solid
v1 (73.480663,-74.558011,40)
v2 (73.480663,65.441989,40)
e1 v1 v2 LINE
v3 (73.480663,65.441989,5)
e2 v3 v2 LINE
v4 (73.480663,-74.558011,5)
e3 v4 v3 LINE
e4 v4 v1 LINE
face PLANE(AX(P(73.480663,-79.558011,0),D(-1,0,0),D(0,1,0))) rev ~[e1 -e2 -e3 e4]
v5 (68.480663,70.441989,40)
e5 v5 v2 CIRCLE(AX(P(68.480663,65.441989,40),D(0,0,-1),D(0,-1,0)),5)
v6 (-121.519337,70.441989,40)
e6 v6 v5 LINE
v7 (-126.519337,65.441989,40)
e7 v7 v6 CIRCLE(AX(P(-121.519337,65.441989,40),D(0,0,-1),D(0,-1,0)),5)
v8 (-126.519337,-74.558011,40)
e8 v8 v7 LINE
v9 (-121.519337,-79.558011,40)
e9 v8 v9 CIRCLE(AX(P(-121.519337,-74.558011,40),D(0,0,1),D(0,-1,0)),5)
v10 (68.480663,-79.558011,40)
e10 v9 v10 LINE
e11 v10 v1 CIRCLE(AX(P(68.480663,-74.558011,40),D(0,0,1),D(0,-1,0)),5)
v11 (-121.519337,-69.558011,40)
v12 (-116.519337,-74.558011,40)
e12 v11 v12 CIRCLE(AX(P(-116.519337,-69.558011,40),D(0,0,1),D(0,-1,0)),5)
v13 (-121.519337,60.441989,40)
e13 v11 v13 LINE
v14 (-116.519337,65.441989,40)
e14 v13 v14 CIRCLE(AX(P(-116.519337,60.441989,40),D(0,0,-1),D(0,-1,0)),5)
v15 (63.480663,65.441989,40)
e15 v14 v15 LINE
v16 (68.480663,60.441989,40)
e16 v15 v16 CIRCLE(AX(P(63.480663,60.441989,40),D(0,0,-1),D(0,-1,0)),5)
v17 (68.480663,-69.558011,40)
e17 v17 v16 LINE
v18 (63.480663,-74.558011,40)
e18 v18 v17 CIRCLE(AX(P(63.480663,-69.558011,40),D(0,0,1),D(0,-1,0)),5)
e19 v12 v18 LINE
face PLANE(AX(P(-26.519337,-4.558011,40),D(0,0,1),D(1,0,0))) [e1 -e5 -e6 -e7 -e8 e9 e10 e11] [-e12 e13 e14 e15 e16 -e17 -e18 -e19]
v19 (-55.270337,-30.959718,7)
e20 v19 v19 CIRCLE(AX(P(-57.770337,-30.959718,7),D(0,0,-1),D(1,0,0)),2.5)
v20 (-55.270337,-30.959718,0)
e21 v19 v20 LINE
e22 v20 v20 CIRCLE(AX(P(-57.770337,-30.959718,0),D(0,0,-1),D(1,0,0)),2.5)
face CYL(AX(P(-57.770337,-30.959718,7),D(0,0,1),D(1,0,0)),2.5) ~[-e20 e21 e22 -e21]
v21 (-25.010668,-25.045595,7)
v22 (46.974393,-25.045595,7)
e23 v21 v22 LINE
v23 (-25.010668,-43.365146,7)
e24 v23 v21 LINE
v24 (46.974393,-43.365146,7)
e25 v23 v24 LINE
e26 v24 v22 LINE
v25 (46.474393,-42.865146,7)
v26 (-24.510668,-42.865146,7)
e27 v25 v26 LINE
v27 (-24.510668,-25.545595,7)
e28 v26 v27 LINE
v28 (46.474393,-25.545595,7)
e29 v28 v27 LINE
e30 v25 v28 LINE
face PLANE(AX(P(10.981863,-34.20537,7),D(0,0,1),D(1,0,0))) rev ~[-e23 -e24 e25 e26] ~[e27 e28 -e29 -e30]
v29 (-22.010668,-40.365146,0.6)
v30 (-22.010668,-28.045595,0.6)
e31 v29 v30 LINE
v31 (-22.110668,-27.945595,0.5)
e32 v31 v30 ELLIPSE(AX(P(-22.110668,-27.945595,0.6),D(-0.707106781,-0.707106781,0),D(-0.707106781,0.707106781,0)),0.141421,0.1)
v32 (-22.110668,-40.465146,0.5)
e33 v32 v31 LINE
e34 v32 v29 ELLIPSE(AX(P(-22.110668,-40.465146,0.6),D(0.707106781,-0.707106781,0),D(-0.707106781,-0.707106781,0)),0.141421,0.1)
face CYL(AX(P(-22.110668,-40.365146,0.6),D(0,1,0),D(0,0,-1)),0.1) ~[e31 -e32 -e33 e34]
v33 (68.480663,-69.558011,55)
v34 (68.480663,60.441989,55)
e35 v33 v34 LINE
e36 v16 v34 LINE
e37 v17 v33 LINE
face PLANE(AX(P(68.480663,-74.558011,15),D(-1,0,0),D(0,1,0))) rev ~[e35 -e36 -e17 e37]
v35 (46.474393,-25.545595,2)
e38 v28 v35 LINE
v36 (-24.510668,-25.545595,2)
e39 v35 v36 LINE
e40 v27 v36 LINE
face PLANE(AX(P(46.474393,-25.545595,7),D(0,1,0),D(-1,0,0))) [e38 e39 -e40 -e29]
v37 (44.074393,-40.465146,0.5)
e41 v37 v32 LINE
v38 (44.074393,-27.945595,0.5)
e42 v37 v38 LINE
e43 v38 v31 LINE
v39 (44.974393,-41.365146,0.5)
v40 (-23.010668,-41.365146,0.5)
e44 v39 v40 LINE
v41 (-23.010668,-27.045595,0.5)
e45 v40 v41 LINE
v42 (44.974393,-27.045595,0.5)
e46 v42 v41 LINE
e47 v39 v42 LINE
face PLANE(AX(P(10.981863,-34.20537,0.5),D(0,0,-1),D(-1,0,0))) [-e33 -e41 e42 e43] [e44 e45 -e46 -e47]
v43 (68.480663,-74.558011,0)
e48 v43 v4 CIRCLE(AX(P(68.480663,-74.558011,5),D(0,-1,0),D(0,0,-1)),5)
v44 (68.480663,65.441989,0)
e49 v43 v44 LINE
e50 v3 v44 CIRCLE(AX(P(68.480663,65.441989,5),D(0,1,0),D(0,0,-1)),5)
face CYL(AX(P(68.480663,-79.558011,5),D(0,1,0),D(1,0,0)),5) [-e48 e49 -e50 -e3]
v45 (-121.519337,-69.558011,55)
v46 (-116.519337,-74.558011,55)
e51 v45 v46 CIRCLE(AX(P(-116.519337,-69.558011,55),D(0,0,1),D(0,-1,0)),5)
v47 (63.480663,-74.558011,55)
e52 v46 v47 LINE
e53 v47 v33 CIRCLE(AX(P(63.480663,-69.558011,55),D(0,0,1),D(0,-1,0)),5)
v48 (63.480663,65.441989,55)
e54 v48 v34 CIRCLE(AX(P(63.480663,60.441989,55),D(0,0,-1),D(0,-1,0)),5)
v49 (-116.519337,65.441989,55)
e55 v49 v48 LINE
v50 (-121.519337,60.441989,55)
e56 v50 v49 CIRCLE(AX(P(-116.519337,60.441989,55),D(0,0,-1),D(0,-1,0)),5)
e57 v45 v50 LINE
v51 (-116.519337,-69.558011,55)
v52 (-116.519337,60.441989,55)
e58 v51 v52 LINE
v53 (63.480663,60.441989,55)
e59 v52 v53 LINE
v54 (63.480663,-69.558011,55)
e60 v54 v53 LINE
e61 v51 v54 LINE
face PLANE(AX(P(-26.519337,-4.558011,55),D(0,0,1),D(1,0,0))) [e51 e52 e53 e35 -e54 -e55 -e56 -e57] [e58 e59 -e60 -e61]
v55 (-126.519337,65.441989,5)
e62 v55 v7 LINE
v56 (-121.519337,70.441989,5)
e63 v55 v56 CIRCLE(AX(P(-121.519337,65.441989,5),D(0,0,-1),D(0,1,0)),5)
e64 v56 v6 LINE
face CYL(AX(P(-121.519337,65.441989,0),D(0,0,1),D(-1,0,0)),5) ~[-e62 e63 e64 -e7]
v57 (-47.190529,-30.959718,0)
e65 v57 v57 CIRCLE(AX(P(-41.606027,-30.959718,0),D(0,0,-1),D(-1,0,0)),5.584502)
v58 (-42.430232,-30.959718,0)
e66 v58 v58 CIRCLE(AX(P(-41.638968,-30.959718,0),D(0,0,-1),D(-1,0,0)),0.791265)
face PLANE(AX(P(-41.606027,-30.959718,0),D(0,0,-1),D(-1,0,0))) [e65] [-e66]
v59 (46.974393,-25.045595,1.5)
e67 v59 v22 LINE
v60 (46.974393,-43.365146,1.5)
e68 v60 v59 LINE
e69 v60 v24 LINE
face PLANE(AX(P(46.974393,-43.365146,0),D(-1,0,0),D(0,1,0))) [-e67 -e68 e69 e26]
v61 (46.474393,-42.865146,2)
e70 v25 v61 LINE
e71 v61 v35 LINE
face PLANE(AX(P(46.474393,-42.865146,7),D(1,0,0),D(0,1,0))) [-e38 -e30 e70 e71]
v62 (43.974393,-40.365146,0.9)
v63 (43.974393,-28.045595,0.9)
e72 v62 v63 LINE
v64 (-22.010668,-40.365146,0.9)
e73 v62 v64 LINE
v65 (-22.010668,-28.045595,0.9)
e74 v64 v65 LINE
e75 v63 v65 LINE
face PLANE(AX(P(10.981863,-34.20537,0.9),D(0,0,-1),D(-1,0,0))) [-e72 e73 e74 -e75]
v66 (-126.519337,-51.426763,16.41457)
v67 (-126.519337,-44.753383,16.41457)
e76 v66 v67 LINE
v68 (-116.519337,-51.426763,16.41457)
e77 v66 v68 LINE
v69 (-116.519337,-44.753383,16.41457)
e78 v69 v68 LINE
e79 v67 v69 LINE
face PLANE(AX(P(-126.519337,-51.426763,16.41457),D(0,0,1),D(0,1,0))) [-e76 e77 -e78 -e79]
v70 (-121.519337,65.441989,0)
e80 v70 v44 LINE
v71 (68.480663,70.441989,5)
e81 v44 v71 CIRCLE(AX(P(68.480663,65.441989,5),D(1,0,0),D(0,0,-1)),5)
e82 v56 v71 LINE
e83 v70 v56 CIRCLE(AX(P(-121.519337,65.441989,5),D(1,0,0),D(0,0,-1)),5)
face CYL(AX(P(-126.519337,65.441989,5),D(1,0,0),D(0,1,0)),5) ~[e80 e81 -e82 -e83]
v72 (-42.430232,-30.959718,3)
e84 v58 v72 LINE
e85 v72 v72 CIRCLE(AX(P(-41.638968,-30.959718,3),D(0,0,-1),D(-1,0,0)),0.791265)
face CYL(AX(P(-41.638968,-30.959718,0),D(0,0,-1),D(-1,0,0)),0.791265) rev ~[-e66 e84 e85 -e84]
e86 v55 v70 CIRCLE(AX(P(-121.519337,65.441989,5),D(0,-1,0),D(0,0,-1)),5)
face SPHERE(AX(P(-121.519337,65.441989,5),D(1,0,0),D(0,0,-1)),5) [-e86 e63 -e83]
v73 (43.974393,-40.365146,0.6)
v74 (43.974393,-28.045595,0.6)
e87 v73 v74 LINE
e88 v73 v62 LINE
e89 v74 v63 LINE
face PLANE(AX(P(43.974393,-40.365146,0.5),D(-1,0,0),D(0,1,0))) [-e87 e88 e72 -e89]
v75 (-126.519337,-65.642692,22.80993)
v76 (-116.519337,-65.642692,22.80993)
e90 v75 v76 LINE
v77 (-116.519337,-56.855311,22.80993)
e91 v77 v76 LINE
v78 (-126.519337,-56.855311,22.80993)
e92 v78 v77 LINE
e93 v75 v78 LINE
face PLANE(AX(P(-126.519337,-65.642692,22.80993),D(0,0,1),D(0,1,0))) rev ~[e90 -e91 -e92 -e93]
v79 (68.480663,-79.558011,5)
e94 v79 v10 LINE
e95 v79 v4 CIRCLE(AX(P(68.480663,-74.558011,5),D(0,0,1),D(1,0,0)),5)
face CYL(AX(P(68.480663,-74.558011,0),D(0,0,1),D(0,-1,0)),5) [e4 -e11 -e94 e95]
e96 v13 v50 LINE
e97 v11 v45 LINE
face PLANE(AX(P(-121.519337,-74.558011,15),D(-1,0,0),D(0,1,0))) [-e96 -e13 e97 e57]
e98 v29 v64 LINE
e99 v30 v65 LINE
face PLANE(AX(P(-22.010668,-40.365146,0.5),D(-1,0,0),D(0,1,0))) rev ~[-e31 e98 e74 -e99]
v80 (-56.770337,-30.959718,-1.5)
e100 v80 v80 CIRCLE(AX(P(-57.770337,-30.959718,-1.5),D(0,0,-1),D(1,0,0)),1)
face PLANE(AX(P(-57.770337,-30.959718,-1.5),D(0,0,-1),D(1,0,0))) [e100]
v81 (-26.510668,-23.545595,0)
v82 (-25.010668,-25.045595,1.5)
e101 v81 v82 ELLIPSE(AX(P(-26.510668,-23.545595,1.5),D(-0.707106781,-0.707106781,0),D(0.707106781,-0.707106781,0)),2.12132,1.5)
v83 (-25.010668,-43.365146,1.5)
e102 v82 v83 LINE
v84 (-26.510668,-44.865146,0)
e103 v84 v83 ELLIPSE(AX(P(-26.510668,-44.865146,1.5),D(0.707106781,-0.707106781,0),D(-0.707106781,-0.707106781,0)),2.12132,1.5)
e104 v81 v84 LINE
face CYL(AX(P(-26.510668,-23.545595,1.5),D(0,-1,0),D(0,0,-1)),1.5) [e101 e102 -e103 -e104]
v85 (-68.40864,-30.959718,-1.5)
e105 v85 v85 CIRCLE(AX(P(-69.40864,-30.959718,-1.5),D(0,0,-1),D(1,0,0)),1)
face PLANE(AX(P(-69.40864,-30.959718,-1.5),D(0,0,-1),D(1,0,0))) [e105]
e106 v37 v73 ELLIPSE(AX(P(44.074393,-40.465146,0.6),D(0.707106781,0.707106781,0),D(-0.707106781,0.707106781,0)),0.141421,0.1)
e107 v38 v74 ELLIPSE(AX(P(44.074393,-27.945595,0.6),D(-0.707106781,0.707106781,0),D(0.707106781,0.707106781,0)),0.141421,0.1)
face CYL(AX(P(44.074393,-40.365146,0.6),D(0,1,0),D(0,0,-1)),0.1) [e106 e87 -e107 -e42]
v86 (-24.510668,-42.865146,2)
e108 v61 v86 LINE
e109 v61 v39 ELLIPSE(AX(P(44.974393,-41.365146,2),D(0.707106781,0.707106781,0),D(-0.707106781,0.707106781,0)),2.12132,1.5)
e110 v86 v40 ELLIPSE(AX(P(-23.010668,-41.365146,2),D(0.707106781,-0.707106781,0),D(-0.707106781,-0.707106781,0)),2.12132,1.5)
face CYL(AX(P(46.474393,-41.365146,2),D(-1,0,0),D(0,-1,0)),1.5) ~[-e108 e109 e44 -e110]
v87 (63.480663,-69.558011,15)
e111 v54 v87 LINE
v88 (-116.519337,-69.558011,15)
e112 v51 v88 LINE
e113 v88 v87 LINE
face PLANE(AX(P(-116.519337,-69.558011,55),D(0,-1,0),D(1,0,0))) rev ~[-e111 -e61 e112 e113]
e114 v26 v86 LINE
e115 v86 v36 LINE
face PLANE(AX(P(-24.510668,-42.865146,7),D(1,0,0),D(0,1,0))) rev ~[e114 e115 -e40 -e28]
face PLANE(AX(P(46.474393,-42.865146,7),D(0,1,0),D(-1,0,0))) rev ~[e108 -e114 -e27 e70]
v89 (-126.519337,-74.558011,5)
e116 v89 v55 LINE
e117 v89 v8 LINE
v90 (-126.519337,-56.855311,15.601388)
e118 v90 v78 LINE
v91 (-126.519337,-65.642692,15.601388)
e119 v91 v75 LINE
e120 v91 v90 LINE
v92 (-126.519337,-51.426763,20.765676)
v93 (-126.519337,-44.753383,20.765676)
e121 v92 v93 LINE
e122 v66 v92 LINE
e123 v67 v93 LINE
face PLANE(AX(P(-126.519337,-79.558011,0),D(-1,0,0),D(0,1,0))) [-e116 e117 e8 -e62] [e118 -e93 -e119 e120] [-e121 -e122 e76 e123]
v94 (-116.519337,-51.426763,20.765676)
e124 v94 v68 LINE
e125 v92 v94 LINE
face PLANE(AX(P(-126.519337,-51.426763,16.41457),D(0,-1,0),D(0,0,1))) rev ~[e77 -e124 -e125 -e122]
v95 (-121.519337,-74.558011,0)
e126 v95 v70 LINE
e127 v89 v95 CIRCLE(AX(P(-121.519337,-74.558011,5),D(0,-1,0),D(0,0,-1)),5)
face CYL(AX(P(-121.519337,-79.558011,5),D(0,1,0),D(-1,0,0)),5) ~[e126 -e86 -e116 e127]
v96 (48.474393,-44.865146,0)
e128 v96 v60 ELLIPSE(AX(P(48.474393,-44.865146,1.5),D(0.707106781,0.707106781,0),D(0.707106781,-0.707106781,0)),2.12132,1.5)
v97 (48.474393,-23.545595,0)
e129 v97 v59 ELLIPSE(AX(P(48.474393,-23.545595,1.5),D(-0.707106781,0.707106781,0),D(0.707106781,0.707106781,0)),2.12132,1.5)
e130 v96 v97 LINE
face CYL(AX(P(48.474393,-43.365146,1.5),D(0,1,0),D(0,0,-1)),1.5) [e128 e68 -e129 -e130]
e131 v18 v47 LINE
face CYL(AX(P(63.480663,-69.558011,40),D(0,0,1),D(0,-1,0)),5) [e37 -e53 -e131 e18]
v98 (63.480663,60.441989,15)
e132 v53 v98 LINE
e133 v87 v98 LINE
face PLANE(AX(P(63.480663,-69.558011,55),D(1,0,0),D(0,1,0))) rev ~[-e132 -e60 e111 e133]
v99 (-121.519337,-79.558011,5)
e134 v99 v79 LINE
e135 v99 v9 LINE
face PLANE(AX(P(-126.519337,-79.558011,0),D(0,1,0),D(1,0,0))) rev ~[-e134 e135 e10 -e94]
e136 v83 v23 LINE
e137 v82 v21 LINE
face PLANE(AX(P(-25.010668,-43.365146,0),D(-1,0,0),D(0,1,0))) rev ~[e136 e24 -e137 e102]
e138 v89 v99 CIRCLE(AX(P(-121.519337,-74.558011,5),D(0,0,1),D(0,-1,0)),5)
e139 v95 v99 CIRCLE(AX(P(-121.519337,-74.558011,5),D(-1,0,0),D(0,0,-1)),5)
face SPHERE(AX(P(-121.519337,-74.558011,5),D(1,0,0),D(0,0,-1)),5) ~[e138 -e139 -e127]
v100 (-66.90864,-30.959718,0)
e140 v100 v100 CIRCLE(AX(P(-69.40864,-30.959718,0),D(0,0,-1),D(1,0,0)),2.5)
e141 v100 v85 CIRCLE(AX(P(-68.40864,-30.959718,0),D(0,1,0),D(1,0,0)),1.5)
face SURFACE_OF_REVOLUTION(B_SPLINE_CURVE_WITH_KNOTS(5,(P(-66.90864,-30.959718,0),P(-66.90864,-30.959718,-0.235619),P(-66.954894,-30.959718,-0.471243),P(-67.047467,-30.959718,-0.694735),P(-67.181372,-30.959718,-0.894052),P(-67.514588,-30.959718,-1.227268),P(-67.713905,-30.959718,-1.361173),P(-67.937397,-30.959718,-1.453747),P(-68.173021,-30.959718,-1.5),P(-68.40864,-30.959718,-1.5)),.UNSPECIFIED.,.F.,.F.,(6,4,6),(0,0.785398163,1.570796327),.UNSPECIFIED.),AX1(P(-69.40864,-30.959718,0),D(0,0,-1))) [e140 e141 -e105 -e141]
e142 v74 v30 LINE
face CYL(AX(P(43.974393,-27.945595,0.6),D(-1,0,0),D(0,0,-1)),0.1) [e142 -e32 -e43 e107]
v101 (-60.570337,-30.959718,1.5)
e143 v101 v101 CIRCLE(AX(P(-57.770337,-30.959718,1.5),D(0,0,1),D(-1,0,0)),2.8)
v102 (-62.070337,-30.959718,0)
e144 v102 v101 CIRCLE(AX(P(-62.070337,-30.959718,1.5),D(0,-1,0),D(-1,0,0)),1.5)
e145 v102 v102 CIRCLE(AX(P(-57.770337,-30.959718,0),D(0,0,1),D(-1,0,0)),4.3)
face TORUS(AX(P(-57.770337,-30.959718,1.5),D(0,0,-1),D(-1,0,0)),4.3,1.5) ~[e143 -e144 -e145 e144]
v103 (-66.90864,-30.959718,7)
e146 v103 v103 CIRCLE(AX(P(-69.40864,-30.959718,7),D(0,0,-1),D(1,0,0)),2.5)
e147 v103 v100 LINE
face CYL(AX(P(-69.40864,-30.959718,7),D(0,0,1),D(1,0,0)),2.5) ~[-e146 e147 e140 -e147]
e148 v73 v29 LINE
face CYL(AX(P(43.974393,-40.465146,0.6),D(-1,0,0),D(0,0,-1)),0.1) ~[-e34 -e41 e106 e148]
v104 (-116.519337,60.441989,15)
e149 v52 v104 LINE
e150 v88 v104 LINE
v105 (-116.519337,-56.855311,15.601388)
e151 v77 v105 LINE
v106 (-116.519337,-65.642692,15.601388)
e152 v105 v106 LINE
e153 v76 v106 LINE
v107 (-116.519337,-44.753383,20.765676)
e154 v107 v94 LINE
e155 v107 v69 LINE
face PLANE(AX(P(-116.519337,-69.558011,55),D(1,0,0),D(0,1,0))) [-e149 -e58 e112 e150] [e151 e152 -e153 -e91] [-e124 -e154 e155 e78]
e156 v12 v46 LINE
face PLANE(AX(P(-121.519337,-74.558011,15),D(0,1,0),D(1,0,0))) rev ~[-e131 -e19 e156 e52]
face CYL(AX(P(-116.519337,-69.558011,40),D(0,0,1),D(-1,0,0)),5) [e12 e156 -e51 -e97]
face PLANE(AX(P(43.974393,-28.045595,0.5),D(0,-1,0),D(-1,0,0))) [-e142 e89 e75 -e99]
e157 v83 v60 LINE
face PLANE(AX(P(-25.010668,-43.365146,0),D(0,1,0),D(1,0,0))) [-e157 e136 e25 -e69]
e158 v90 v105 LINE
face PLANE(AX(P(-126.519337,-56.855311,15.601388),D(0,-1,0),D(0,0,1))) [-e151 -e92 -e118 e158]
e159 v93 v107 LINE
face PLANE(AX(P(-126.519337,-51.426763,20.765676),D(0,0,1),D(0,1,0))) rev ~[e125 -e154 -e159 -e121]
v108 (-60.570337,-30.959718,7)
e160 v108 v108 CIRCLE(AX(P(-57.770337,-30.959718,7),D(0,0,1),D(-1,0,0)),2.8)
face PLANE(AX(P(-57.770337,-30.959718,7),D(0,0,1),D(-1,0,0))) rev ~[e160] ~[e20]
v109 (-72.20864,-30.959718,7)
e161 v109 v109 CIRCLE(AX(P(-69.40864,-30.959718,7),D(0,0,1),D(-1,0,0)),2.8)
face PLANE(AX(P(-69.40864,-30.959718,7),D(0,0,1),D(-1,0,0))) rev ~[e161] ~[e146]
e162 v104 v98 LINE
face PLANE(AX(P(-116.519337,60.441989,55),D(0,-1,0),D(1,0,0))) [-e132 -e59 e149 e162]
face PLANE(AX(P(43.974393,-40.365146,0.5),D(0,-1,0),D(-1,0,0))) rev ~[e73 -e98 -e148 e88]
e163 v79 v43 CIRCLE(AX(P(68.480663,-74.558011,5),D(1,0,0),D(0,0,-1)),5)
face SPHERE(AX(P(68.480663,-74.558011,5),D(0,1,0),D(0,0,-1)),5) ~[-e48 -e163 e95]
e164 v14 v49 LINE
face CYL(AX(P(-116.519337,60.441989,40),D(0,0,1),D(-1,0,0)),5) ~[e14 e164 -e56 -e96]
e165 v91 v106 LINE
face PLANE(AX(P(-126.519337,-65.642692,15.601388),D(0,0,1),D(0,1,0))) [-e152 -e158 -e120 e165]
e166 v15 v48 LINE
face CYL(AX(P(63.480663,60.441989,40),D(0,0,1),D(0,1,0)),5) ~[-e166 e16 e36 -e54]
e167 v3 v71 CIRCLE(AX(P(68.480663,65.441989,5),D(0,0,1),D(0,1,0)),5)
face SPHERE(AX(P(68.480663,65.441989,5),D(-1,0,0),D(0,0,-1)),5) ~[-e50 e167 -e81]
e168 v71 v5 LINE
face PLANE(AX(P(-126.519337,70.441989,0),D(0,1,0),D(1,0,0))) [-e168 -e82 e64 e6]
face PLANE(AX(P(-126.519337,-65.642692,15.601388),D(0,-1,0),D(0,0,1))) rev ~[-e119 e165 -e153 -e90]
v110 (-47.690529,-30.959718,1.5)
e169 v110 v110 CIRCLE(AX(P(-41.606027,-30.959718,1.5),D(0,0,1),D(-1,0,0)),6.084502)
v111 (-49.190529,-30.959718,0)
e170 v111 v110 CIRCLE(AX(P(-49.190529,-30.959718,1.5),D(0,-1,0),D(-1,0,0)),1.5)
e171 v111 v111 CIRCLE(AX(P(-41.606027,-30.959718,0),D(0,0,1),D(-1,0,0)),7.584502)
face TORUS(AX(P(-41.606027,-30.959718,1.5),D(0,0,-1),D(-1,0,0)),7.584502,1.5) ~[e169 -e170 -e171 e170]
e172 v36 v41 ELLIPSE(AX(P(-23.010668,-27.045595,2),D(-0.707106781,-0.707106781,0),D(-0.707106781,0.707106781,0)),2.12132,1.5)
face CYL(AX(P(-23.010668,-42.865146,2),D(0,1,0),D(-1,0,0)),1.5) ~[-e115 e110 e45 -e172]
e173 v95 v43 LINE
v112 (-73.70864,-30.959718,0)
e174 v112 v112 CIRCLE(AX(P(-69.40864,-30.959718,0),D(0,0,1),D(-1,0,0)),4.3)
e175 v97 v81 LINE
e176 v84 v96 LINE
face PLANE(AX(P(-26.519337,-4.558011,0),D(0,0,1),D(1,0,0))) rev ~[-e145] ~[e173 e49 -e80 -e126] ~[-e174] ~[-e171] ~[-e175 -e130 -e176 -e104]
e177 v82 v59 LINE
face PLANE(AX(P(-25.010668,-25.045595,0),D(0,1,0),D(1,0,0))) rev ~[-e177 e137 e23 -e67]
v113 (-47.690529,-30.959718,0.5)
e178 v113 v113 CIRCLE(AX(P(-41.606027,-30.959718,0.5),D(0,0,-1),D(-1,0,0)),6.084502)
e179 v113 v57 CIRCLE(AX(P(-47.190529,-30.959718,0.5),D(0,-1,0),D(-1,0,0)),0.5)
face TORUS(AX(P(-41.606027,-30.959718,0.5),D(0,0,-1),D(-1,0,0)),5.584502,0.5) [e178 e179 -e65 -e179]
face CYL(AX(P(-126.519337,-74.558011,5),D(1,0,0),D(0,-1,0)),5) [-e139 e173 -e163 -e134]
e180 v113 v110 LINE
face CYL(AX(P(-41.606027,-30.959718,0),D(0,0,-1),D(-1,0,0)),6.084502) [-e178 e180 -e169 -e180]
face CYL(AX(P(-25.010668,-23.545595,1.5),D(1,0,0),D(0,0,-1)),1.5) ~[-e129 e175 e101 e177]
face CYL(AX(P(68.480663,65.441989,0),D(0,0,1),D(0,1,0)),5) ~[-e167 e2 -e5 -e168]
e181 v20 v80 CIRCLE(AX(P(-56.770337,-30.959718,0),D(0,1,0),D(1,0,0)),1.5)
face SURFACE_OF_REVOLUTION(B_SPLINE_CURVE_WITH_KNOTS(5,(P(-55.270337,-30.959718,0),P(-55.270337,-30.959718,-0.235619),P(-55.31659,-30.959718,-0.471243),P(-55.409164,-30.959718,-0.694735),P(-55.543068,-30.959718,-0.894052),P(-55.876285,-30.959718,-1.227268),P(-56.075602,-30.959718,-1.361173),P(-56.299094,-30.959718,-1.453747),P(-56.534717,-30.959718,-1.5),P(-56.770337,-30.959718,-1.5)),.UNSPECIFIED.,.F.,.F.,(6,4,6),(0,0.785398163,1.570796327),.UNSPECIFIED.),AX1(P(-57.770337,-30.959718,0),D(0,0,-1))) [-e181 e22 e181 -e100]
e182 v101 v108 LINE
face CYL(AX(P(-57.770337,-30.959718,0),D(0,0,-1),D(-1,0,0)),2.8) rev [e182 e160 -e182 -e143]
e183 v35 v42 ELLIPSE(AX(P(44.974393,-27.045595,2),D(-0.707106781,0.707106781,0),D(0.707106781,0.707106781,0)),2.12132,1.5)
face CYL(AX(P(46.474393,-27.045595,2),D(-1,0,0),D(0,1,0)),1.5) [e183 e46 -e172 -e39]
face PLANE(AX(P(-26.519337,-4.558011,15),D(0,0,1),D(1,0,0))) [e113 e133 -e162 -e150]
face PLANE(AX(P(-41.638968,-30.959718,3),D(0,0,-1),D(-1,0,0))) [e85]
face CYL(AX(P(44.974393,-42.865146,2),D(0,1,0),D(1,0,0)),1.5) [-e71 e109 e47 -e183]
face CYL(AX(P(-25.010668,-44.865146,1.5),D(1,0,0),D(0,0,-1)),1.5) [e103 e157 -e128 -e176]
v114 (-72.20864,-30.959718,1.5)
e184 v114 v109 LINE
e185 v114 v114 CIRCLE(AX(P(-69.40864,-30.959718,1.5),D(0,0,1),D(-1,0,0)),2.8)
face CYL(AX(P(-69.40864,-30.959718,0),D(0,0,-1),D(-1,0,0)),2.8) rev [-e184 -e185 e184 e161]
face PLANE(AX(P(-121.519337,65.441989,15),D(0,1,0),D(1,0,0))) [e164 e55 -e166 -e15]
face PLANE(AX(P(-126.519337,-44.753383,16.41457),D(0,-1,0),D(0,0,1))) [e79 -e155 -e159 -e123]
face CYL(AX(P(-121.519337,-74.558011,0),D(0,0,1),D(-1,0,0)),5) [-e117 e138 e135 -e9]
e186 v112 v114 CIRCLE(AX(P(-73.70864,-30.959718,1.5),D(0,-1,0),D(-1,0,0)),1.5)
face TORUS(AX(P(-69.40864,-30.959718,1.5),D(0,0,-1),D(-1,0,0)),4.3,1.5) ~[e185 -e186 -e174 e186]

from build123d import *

# Parameters (mm, degrees)
SKETCH1_W           = 200
SKETCH1_H           = 150
BOSS_EXTRUDE1_DEPTH = 40
SKETCH2_R           = 6.084502499
SKETCH2_R_2         = 2.8
SKETCH2_W           = 71.985061483
SKETCH2_H           = 18.319551575
CUT_EXTRUDE1_DEPTH  = 7
SKETCH4_W           = 190
SKETCH4_H           = 140
CUT_EXTRUDE2_DEPTH  = 25
SKETCH5_W           = 190
SKETCH5_H           = 140
BOSS_EXTRUDE2_DEPTH = 40
SKETCH6_W           = 180
SKETCH6_H           = 130
CUT_EXTRUDE3_DEPTH  = 40
FILLET1_R           = 5
FILLET2_R           = 1.5
SKETCH7_R           = 6.084502499
BOSS_EXTRUDE3_DEPTH = 7
FILLET3_R           = 1.5
SKETCH9_R           = 0.791264775
CUT_EXTRUDE4_DEPTH  = 3
FILLET4_R           = 0.5
SKETCH10_R          = 2.5
BOSS_EXTRUDE4_DEPTH = 8.5
FILLET5_R           = 1.5
SKETCH13_W          = 70.985061483
SKETCH13_H          = 17.319551575
BOSS_EXTRUDE5_DEPTH = 6.5
FILLET6_R           = 1.5
SKETCH14_W          = 65.985061483
SKETCH14_H          = 12.319551575
CUT_EXTRUDE5_DEPTH  = 0.4
FILLET7_R           = 0.1
SKETCH15_W          = 7.208542358
SKETCH15_H          = 8.787380668
SKETCH15_W_2        = 4.351105625
SKETCH15_H_2        = 6.673379735
CUT_EXTRUDE6_DEPTH  = 50


with BuildPart() as part:
    # Sketch1 → Boss-Extrude1 (new body)
    with BuildSketch(Plane.XY):
        with Locations((-26.519337017, -4.55801105)):
            Rectangle(SKETCH1_W, SKETCH1_H)
    extrude(amount=BOSS_EXTRUDE1_DEPTH)

    # Sketch2 → Cut-Extrude1 (cut)
    with BuildSketch(Plane.XY):
        with Locations(Location((-41.606026549, -30.959717731, 0), (0, 0, 180))):
            Circle(SKETCH2_R)
        with Locations(Location((-57.770336762, -30.959717731, 0), (0, 0, 180))):
            Circle(SKETCH2_R_2)
        with Locations(Location((-69.408640116, -30.959717731, 0), (0, 0, 180))):
            Circle(SKETCH2_R_2)
        with Locations((10.981862679, -34.205370296)):
            Rectangle(SKETCH2_W, SKETCH2_H)
    extrude(amount=CUT_EXTRUDE1_DEPTH, mode=Mode.SUBTRACT)

    # Sketch4 → Cut-Extrude2 (cut)
    with BuildSketch(Plane.XY.offset(40)):
        with Locations((-26.519337017, -4.55801105)):
            Rectangle(SKETCH4_W, SKETCH4_H)
    extrude(amount=-CUT_EXTRUDE2_DEPTH, mode=Mode.SUBTRACT)

    # Sketch5 → Boss-Extrude2 (add)
    with BuildSketch(Plane.XY.offset(15)):
        with Locations((-26.519337017, -4.55801105)):
            Rectangle(SKETCH5_W, SKETCH5_H)
    extrude(amount=BOSS_EXTRUDE2_DEPTH)

    # Sketch6 → Cut-Extrude3 (cut)
    with BuildSketch(Plane.XY.offset(55)):
        with Locations((-26.519337017, -4.55801105)):
            Rectangle(SKETCH6_W, SKETCH6_H)
    extrude(amount=-CUT_EXTRUDE3_DEPTH, mode=Mode.SUBTRACT)

    # Fillet1
    fillet1_edges = [part.edges().sort_by_distance(p)[0] for p in [
        (-26.519337017, 70.44198895, 0),
        (73.480662983, -4.55801105, 0),
        (-121.519337017, 65.44198895, 47.5),
        (-121.519337017, -74.55801105, 47.5),
        (68.480662983, -74.55801105, 47.5),
        (68.480662983, 65.44198895, 47.5),
        (-26.519337017, -79.55801105, 0),
        (-126.519337017, -4.55801105, 0),
        (-126.519337017, 70.44198895, 20),
        (73.480662983, 70.44198895, 20),
        (73.480662983, -79.55801105, 20),
        (-126.519337017, -79.55801105, 20),
    ]]
    fillet(fillet1_edges, radius=FILLET1_R)

    # Fillet2
    fillet2_edges = [part.edges().sort_by_distance(p)[0] for p in [
        (10.981862678, -43.365146083, 0),
        (46.97439342, -34.205370296, 0),
        (10.981862678, -25.045594508, 0),
        (-35.52152405, -30.959717731, 0),
        (-54.970336762, -30.959717731, 0),
        (-66.608640116, -30.959717731, 0),
    ]]
    fillet(fillet2_edges, radius=FILLET2_R)

    # Sketch7 → Boss-Extrude3 (add)
    with BuildSketch(Plane(origin=(0, 0, 0), x_dir=(-1, 0, 0), z_dir=(0, 0, -1))):
        with Locations((41.606026549, -30.959717731)):
            Circle(SKETCH7_R)
    extrude(amount=-BOSS_EXTRUDE3_DEPTH)

    # Fillet3
    fillet3_edges = [part.edges().sort_by_distance(p)[0] for p in [
        (-25.010668063, -34.205370296, 0),
    ]]
    fillet(fillet3_edges, radius=FILLET3_R)

    # Sketch9 → Cut-Extrude4 (cut)
    with BuildSketch(Plane(origin=(0, 0, 0), x_dir=(-1, 0, 0), z_dir=(0, 0, -1))):
        with Locations((41.638967617, -30.959717731)):
            Circle(SKETCH9_R)
    extrude(amount=-CUT_EXTRUDE4_DEPTH, mode=Mode.SUBTRACT)

    # Fillet4
    fillet4_edges = [part.edges().sort_by_distance(p)[0] for p in [
        (-35.52152405, -30.959717731, 0),
    ]]
    fillet(fillet4_edges, radius=FILLET4_R)

    # Sketch10 → Boss-Extrude4 (add)
    with BuildSketch(Plane(origin=(0, 0, 7), x_dir=(-1, 0, 0), z_dir=(0, 0, -1))):
        with Locations(Location((57.770336762, -30.959717731, 0), (0, 0, 180))):
            Circle(SKETCH10_R)
        with Locations(Location((69.408640116, -30.959717731, 0), (0, 0, 180))):
            Circle(SKETCH10_R)
    extrude(amount=BOSS_EXTRUDE4_DEPTH)

    # Fillet5
    fillet5_edges = [part.edges().sort_by_distance(p)[0] for p in [
        (-71.908640116, -30.959717731, -1.5),
        (-60.270336762, -30.959717731, -1.5),
    ]]
    fillet(fillet5_edges, radius=FILLET5_R)

    # Sketch13 → Boss-Extrude5 (add)
    with BuildSketch(Plane(origin=(0, 0, 7), x_dir=(-1, 0, 0), z_dir=(0, 0, -1))):
        with Locations((-10.981862679, -34.205370296)):
            Rectangle(SKETCH13_W, SKETCH13_H)
    extrude(amount=BOSS_EXTRUDE5_DEPTH)

    # Fillet6
    fillet6_edges = [part.edges().sort_by_distance(p)[0] for p in [
        (46.47439342, -34.205370296, 0.5),
        (10.981862678, -42.865146083, 0.5),
        (-24.510668063, -34.205370296, 0.5),
        (10.981862678, -25.545594508, 0.5),
    ]]
    fillet(fillet6_edges, radius=FILLET6_R)

    # Sketch14 → Cut-Extrude5 (cut)
    with BuildSketch(Plane(origin=(0, 0, 0.5), x_dir=(-1, 0, 0), z_dir=(0, 0, -1))):
        with Locations((-10.981862679, -34.205370296)):
            Rectangle(SKETCH14_W, SKETCH14_H)
    extrude(amount=-CUT_EXTRUDE5_DEPTH, mode=Mode.SUBTRACT)

    # Fillet7
    fillet7_edges = [part.edges().sort_by_distance(p)[0] for p in [
        (43.97439342, -34.205370296, 0.5),
        (10.981862678, -40.365146083, 0.5),
        (-22.010668063, -34.205370296, 0.5),
        (10.981862678, -28.045594508, 0.5),
    ]]
    fillet(fillet7_edges, radius=FILLET7_R)

    # Sketch15 → Cut-Extrude6 (cut)
    with BuildSketch(Plane.ZY.offset(126.519337017)):
        with Locations((19.205658921, -61.249001282)):
            Rectangle(SKETCH15_W, SKETCH15_H)
        with Locations((18.590123015, -48.090072902)):
            Rectangle(SKETCH15_W_2, SKETCH15_H_2)
    extrude(amount=-CUT_EXTRUDE6_DEPTH, mode=Mode.SUBTRACT)


solid = part.part
